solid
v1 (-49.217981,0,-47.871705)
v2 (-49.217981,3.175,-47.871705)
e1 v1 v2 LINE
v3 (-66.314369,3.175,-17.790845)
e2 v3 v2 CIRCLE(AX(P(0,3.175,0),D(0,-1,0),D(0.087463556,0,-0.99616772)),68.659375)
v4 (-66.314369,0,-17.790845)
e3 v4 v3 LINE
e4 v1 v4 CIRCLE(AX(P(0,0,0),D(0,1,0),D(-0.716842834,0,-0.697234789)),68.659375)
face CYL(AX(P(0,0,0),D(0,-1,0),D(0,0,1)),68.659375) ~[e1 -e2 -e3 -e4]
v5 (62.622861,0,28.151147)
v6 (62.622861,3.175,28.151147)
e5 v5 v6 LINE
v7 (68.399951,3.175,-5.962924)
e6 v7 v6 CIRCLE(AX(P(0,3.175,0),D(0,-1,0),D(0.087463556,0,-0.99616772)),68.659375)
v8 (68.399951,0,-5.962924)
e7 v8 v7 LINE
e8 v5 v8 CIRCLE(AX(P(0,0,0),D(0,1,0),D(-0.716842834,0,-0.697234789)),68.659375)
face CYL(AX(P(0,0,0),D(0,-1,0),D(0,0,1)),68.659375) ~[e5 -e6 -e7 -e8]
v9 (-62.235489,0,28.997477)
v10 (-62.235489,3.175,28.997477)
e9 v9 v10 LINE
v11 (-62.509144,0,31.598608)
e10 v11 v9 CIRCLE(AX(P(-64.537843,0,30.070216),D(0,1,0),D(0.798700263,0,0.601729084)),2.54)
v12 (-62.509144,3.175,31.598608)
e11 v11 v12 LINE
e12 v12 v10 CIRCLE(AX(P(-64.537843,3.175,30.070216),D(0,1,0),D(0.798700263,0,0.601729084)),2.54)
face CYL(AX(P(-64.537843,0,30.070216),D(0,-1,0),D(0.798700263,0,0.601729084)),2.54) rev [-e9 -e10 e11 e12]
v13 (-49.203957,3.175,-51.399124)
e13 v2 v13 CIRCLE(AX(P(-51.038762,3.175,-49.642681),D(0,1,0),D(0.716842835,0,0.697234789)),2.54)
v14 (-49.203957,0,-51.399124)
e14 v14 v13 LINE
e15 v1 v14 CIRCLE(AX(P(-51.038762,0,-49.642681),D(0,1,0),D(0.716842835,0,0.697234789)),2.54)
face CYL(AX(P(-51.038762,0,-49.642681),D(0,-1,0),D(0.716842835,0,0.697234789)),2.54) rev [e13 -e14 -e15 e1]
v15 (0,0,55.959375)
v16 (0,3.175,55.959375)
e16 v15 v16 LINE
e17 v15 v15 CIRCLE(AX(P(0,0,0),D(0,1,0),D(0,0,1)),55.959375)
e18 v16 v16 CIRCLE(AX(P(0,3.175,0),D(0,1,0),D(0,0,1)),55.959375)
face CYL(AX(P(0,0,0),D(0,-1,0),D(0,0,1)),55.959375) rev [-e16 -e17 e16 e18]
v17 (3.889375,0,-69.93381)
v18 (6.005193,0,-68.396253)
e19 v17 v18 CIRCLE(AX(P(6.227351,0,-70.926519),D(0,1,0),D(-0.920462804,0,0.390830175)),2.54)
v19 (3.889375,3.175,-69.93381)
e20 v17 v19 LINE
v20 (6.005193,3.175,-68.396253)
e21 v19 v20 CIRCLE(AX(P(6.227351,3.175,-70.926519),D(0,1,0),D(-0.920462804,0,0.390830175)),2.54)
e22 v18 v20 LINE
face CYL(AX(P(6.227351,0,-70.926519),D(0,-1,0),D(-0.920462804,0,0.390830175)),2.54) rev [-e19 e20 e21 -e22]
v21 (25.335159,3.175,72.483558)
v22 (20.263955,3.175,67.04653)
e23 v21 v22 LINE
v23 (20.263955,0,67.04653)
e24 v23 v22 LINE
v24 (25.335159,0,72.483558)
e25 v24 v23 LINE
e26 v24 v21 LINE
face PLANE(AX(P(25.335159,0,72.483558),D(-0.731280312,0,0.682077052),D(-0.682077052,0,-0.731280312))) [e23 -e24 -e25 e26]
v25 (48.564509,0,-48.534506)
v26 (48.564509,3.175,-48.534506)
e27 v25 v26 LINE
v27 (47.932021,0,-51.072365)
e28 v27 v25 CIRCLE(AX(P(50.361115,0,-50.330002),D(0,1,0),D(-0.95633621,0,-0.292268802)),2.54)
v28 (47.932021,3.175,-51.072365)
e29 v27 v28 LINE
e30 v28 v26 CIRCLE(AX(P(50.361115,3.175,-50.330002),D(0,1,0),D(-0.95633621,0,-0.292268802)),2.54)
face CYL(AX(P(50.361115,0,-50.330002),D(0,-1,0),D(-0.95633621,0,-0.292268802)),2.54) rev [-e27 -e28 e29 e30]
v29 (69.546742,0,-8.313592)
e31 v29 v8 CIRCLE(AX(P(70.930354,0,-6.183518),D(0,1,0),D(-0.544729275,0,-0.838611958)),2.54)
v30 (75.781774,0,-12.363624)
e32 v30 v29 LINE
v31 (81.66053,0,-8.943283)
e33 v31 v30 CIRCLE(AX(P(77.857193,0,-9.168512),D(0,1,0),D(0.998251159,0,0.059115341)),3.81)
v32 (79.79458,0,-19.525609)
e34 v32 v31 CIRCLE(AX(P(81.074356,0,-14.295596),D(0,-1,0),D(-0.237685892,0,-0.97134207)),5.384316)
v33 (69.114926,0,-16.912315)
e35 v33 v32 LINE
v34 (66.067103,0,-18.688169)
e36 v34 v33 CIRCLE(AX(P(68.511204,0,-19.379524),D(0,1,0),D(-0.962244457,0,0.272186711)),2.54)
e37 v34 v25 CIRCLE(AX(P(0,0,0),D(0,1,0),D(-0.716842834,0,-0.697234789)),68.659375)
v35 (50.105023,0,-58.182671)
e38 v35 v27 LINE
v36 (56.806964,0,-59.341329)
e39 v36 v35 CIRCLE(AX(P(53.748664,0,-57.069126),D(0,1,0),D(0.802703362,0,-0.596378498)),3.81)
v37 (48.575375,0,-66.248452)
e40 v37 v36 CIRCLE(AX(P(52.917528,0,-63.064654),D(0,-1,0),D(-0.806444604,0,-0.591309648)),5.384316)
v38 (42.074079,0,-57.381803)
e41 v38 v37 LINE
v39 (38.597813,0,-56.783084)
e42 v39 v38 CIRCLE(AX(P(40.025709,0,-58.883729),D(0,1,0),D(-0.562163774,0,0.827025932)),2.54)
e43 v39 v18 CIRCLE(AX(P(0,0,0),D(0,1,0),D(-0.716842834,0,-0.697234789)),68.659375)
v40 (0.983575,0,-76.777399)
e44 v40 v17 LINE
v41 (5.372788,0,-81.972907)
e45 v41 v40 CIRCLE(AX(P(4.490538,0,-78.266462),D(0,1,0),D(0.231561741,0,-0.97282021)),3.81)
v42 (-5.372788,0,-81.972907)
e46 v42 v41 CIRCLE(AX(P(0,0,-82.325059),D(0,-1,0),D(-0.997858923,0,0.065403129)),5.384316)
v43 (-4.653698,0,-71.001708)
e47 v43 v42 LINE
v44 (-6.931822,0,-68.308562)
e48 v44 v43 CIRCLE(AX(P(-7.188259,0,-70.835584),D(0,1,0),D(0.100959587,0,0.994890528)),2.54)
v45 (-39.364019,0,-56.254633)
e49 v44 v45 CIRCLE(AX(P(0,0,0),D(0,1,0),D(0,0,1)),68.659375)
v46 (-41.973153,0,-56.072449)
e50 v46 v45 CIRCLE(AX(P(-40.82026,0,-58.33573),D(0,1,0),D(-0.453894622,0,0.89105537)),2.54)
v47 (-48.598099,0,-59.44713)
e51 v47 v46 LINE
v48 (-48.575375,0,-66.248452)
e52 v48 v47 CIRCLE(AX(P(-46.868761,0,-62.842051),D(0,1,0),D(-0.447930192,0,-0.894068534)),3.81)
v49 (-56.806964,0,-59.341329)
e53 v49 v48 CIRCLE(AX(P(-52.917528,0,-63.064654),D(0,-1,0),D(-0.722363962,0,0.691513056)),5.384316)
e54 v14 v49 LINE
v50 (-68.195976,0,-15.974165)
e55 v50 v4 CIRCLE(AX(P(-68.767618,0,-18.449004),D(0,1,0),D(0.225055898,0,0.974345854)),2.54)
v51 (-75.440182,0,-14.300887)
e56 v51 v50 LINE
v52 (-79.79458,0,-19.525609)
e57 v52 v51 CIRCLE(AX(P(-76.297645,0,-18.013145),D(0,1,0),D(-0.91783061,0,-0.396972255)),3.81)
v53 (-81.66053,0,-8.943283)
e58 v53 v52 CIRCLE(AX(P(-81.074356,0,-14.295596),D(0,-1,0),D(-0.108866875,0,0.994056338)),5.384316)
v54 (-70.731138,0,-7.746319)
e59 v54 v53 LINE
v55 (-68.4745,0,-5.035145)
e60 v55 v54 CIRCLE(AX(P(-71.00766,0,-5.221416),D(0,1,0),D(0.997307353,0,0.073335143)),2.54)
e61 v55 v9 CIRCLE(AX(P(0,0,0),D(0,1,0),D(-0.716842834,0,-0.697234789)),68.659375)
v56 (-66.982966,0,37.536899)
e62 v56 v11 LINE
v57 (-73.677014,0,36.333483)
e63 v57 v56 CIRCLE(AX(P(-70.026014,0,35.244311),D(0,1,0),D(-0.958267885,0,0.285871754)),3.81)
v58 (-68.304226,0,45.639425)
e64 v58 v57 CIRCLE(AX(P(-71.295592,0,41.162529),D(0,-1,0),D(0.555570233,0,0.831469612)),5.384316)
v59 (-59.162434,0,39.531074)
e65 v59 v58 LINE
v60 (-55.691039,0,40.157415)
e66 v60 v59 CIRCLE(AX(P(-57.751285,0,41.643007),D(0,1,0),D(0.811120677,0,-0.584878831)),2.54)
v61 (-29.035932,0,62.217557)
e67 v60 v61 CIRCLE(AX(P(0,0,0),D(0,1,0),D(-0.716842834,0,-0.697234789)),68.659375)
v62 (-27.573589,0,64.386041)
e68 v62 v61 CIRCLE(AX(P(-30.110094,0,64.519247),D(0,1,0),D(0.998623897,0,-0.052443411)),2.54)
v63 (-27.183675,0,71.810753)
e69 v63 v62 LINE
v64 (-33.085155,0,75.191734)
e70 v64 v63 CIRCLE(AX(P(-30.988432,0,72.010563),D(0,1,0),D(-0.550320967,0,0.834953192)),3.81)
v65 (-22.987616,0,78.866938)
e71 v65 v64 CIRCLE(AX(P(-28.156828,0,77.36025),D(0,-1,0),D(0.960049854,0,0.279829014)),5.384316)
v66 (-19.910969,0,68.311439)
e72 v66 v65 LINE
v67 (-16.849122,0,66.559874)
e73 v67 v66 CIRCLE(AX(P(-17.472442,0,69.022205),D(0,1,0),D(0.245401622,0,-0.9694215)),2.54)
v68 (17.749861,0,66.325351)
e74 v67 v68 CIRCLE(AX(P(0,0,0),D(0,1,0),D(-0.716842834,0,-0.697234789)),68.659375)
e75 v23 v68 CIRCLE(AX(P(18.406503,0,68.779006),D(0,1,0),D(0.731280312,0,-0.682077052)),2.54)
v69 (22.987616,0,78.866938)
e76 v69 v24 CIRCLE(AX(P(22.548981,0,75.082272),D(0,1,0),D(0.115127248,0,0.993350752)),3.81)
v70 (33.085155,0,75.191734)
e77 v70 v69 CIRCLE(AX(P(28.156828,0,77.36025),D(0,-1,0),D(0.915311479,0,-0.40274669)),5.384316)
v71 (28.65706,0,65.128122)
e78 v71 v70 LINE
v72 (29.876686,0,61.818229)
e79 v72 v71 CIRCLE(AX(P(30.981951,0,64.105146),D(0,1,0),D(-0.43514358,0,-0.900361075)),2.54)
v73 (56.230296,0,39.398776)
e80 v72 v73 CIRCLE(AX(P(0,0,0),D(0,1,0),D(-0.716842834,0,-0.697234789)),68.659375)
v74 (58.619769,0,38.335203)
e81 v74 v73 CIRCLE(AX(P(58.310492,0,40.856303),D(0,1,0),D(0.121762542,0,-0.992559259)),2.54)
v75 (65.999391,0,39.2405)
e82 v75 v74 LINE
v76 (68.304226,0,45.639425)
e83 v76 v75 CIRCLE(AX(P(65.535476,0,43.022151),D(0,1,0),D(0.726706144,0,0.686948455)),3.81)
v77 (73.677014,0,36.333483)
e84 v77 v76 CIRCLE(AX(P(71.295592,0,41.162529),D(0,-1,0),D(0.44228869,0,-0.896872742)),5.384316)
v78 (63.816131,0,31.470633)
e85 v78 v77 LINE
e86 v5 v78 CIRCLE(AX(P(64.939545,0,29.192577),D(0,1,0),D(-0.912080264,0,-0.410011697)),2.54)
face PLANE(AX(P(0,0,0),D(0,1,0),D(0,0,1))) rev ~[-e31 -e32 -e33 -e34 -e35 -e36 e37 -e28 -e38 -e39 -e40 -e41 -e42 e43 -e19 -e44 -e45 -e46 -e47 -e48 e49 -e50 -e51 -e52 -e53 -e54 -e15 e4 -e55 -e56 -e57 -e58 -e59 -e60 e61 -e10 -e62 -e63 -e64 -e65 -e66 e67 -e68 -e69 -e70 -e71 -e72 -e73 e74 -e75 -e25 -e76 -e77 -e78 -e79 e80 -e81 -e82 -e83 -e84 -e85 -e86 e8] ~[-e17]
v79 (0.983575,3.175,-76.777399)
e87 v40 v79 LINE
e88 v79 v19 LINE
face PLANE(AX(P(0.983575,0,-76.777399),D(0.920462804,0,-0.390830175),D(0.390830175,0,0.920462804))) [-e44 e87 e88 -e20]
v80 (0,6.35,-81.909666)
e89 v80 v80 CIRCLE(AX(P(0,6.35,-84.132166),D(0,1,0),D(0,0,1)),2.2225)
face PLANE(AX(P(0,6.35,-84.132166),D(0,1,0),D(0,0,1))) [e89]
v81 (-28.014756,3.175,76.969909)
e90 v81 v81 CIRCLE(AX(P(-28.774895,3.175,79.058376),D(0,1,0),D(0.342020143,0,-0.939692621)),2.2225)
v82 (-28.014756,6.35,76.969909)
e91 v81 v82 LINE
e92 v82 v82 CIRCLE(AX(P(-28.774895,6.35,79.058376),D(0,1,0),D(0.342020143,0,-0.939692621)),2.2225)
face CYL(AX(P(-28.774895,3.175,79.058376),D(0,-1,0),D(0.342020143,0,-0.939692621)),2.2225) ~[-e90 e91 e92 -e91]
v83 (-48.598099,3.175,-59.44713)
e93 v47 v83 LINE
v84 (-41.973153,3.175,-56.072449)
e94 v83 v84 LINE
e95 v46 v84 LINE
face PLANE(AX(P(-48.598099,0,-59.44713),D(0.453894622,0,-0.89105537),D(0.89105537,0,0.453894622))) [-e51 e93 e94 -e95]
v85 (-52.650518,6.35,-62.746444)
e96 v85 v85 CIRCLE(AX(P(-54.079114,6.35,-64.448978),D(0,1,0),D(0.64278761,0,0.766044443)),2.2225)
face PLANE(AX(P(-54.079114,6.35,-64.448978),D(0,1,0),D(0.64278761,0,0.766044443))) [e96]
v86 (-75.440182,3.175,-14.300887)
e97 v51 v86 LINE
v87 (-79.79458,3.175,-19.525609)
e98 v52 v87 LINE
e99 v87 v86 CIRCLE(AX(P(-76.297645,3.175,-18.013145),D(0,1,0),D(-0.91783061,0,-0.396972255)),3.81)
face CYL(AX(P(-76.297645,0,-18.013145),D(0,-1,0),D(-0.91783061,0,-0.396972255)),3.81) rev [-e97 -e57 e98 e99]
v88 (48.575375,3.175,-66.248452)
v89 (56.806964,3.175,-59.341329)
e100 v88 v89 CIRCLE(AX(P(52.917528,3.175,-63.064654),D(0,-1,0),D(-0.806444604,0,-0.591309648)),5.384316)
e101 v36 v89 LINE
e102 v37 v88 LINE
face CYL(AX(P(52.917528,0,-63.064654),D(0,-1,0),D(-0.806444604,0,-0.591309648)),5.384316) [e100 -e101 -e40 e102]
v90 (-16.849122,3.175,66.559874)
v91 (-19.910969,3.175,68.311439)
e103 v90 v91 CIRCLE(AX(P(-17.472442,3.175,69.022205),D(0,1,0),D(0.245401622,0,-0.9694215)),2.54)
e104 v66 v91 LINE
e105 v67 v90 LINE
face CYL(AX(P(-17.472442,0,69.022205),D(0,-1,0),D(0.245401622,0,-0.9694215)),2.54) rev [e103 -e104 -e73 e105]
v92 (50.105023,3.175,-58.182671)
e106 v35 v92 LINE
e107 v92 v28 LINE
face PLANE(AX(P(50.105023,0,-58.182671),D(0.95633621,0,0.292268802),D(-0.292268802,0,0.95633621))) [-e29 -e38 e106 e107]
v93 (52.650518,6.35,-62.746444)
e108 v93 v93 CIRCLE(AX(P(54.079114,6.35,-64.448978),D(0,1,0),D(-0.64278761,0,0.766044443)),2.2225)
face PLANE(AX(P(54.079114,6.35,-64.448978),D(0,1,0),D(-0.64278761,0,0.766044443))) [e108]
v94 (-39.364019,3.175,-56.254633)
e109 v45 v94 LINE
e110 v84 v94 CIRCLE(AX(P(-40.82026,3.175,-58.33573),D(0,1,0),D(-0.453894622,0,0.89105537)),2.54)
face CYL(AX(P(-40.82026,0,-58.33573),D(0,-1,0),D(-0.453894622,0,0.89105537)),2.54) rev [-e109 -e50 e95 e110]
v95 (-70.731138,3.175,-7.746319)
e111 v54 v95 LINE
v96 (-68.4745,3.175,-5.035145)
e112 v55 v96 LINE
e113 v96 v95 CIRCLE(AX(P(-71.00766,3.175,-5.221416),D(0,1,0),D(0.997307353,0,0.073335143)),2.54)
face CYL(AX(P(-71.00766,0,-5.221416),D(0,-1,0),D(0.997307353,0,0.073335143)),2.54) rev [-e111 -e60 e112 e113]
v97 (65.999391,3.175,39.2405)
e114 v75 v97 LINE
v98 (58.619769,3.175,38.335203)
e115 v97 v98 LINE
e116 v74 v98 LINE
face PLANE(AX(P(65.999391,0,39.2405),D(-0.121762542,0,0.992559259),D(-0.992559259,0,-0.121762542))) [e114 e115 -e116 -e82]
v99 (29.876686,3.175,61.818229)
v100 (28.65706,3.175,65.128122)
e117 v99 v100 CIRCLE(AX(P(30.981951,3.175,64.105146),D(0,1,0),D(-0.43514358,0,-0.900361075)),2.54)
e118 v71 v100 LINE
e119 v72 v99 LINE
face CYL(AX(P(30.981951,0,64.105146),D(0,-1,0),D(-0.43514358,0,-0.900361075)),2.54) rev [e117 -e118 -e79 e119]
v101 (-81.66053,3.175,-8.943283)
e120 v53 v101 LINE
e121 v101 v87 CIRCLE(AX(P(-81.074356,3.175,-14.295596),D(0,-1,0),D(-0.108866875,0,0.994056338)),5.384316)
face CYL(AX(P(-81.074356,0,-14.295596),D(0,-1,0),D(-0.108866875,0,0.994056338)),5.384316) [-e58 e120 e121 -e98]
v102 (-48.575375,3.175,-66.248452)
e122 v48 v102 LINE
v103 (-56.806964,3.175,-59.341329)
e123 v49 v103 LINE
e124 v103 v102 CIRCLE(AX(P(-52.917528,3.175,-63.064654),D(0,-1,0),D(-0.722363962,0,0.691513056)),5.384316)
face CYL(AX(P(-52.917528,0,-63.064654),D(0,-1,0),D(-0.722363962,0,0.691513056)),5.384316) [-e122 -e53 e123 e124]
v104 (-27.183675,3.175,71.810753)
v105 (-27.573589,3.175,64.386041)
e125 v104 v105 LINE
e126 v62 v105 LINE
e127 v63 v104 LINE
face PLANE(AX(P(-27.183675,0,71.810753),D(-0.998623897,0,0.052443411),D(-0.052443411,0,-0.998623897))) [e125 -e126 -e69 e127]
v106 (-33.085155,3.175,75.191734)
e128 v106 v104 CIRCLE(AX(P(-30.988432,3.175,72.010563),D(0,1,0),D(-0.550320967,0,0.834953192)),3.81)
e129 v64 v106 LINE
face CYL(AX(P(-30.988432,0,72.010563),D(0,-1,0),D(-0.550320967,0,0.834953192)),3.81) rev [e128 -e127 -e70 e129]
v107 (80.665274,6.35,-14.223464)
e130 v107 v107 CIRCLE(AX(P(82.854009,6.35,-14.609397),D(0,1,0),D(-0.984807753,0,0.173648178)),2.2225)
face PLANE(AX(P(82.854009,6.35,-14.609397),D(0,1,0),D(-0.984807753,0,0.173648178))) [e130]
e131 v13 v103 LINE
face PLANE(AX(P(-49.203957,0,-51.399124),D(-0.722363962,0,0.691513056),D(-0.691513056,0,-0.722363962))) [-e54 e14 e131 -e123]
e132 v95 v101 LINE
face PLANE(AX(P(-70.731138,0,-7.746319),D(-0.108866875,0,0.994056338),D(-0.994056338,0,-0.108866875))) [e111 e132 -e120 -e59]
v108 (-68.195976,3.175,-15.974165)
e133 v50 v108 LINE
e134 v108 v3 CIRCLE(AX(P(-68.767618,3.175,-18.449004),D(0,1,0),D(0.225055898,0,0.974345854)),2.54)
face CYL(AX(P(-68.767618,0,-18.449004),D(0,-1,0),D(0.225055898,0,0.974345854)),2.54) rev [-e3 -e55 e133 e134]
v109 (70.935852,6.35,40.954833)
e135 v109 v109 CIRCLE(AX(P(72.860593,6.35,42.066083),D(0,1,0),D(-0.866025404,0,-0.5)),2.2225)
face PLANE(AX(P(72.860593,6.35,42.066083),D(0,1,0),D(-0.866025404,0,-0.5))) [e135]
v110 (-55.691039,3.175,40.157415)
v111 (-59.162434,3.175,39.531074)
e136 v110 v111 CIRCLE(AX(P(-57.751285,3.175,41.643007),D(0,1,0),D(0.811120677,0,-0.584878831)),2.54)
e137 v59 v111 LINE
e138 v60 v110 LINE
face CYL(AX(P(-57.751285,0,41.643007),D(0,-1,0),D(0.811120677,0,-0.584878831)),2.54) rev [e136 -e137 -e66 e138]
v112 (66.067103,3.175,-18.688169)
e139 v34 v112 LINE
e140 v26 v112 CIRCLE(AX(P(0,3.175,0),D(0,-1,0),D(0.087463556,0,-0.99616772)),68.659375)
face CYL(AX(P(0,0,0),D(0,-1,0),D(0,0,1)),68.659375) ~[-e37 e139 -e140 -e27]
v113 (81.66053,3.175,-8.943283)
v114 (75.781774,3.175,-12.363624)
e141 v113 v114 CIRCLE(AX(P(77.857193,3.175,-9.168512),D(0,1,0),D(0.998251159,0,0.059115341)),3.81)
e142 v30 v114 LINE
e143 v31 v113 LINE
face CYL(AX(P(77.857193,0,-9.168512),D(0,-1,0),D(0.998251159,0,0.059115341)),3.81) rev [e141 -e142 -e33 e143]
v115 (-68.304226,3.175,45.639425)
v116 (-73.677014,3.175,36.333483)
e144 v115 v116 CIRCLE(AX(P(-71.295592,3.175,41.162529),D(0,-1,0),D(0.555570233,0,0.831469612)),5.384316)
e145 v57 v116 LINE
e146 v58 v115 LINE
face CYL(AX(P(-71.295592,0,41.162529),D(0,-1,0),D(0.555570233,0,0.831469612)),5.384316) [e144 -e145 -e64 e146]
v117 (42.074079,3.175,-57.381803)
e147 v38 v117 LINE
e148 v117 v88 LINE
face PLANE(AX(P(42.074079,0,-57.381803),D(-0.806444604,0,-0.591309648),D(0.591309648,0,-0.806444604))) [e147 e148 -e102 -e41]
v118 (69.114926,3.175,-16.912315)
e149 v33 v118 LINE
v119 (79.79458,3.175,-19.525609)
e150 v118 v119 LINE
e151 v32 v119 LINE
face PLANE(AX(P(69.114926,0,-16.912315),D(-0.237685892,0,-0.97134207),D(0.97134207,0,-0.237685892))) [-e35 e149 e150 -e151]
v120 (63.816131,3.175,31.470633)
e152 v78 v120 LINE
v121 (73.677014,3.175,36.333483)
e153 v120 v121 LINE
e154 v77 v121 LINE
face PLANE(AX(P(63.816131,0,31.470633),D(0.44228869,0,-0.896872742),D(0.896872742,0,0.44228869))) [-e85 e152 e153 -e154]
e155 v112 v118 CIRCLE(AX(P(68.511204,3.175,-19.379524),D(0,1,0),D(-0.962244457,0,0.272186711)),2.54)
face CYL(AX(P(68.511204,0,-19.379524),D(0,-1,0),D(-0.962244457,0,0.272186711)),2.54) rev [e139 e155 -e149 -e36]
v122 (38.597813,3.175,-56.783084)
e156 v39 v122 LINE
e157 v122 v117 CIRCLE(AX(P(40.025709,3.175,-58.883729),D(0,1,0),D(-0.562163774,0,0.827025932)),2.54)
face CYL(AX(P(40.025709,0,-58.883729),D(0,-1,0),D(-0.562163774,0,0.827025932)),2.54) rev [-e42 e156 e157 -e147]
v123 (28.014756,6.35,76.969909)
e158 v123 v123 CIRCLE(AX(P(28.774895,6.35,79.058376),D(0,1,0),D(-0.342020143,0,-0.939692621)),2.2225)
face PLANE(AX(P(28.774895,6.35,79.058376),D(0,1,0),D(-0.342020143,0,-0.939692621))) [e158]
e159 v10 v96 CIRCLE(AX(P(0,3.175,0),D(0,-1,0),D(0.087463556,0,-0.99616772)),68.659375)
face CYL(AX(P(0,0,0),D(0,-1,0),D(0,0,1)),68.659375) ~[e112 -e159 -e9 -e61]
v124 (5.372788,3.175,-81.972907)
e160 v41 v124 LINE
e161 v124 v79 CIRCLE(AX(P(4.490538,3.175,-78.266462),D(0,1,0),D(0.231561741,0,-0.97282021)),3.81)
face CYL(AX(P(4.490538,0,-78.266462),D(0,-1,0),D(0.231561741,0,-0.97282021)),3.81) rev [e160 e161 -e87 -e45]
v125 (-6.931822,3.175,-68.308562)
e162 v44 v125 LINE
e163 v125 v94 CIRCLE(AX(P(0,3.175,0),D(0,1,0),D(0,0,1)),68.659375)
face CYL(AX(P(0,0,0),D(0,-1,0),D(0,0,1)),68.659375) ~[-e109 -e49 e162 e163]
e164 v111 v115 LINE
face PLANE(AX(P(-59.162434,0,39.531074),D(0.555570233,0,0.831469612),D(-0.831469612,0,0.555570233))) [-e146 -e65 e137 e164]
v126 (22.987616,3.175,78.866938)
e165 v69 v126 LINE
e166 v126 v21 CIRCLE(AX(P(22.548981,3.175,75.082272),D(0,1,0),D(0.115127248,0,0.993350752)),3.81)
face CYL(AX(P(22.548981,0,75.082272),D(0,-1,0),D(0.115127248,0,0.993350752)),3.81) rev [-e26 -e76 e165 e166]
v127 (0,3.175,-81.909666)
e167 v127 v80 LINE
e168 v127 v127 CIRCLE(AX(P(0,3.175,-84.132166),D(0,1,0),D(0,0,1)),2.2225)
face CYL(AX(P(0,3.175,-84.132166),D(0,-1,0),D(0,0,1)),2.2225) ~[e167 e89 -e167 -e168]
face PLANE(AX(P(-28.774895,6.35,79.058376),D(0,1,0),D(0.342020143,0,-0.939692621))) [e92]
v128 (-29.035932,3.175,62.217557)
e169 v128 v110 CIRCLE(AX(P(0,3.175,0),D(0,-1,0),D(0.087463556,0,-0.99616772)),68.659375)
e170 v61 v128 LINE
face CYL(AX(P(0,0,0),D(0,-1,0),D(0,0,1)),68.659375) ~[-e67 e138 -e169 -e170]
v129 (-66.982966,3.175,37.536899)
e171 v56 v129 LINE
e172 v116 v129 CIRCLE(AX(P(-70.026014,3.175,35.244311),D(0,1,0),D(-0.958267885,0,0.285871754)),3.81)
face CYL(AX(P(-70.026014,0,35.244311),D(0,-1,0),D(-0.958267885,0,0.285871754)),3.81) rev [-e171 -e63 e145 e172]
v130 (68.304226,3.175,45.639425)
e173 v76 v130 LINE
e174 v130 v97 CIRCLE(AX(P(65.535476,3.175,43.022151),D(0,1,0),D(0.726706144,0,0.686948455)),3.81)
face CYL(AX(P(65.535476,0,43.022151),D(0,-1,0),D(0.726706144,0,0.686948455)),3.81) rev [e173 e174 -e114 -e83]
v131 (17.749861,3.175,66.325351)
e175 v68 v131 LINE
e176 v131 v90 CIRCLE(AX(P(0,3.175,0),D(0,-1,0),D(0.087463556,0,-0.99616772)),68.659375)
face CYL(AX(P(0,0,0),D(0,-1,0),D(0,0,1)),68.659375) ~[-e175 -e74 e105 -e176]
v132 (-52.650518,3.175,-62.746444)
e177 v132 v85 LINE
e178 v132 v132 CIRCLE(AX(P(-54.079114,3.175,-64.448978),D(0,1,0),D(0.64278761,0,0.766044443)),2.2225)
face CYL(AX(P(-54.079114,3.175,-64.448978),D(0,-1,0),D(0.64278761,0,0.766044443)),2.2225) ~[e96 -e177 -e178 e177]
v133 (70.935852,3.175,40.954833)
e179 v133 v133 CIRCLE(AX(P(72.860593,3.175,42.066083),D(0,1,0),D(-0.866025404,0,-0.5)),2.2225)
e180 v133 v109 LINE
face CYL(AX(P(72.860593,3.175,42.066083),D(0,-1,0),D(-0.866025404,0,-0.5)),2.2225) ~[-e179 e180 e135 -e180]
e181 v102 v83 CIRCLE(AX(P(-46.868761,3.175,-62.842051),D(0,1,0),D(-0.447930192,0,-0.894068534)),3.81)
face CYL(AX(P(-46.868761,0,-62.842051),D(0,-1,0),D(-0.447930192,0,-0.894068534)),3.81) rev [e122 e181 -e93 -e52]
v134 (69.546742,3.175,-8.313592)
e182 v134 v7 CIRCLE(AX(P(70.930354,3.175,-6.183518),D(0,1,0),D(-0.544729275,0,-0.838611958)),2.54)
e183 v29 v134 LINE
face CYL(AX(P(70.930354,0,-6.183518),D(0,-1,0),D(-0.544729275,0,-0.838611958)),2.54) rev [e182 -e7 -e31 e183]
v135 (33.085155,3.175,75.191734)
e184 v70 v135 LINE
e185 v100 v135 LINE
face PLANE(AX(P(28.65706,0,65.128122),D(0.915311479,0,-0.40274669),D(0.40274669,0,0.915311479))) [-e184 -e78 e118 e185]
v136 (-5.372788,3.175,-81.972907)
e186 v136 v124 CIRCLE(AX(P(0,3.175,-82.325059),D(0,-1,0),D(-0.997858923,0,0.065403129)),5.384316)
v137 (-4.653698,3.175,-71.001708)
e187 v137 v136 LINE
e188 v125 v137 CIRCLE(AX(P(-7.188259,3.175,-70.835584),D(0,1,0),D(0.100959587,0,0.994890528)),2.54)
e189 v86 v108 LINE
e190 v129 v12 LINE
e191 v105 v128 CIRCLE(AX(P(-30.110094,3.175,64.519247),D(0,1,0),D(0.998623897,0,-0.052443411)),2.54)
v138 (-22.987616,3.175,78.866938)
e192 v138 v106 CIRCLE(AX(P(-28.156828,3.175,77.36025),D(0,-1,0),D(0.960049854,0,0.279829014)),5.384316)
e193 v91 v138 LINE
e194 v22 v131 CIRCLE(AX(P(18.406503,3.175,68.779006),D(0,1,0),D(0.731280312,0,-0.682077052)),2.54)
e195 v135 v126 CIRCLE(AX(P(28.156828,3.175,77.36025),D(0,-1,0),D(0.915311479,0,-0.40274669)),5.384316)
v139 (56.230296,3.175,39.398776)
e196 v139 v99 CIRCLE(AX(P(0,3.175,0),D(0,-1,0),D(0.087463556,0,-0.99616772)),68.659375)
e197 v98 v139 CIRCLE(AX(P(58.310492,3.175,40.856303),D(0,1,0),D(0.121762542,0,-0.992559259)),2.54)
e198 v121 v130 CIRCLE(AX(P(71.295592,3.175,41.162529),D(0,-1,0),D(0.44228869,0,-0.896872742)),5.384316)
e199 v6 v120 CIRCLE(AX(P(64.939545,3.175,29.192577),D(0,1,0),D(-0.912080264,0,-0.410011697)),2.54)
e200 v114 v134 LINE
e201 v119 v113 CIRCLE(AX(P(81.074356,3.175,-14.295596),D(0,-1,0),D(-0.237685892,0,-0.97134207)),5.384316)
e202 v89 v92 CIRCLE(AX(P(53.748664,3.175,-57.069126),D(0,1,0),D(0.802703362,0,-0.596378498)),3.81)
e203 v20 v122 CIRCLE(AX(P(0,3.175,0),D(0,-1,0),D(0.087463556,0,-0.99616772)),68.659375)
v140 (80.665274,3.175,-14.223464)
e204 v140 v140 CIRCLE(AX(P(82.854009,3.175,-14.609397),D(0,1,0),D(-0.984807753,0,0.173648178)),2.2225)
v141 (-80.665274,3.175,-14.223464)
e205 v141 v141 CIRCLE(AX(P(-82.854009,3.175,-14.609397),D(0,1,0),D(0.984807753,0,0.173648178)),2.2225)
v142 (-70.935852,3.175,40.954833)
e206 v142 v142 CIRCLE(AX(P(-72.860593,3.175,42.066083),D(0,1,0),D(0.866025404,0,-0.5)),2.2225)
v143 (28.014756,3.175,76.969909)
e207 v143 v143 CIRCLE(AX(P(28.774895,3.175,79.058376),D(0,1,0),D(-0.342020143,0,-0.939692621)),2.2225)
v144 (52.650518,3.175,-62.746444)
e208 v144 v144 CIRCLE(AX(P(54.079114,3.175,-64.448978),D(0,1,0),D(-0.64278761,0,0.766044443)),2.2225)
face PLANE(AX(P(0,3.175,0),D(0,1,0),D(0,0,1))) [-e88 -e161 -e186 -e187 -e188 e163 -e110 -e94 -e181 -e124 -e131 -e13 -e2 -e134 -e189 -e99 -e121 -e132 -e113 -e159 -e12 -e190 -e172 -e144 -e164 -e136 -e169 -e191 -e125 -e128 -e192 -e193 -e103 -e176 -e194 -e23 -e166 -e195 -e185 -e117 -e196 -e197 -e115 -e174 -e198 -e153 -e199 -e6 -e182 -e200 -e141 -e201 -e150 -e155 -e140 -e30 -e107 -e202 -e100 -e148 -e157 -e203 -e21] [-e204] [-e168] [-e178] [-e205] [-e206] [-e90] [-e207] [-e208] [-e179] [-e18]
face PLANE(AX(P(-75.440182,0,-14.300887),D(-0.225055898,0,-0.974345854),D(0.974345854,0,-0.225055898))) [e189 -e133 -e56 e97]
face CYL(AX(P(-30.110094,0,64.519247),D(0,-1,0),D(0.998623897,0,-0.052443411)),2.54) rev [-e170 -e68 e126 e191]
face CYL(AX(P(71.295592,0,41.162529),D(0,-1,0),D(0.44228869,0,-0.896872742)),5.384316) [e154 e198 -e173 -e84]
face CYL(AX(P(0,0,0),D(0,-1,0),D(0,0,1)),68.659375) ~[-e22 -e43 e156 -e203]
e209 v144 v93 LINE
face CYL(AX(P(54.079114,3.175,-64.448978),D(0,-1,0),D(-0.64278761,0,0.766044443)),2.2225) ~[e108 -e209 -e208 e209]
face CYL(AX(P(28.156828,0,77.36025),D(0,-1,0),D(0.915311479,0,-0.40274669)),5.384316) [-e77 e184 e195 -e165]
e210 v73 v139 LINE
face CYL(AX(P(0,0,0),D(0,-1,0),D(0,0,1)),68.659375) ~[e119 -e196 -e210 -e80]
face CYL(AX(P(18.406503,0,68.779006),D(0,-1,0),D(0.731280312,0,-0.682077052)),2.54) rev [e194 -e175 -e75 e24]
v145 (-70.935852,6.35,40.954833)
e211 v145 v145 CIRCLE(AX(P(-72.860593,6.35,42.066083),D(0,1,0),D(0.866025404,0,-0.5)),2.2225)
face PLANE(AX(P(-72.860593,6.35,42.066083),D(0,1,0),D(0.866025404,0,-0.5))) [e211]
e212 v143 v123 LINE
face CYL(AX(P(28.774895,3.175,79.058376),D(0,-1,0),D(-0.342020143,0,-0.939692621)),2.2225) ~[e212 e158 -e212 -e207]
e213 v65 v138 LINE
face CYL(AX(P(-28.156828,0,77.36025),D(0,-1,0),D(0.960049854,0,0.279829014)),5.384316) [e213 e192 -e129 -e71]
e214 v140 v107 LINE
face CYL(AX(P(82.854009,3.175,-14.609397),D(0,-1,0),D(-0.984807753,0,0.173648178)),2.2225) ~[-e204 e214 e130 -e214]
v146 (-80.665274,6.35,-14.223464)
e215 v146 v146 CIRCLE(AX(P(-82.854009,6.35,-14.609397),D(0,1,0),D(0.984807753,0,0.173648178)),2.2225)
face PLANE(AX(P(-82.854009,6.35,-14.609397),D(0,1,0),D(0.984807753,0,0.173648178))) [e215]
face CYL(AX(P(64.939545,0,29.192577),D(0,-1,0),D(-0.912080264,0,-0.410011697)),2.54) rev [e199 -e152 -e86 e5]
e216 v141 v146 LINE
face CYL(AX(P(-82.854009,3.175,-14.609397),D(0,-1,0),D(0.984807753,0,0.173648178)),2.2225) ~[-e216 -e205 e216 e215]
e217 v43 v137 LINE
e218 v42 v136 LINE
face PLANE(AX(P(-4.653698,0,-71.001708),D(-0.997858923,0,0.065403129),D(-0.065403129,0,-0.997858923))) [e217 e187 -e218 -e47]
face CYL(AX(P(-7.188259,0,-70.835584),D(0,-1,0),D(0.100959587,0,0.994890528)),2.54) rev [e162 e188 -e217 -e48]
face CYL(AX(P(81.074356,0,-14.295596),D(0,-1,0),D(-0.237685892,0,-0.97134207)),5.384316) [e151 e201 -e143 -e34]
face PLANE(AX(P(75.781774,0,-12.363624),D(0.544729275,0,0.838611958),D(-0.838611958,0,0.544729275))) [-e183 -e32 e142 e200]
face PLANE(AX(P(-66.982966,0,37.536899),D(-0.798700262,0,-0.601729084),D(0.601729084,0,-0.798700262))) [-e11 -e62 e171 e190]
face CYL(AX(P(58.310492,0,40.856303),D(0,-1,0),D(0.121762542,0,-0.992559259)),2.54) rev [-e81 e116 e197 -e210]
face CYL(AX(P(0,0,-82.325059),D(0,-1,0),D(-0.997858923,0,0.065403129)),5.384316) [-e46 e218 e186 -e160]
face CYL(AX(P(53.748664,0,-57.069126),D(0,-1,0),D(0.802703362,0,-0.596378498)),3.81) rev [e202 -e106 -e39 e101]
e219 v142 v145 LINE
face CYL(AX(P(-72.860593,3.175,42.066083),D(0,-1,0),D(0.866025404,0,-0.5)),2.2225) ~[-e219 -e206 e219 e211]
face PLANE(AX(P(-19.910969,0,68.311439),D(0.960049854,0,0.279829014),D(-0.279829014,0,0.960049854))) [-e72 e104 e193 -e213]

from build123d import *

# Parameters (mm, degrees)
SKETCH1_R           = 68.659375
SKETCH1_R_2         = 55.959375
BOSS_EXTRUDE1_DEPTH = 3.175
BOSS_EXTRUDE2_START = -3.175
BOSS_EXTRUDE2_DEPTH = 3.175
CIRPATTERN1_COUNT   = 9
SKETCH3_R           = 2.2225
BOSS_EXTRUDE3_DEPTH = 3.175
CIRPATTERN13_COUNT  = 9


with BuildPart() as part:
    # Sketch1 → Boss-Extrude1 (new body)
    with BuildSketch(Plane(origin=(0, 0, 0), x_dir=(1, 0, 0), z_dir=(0, 1, 0))):
        with Locations(Location((0, 0, 0), (0, 0, 270))):
            Circle(SKETCH1_R)
        with Locations(Location((0, 0, 0), (0, 0, 270))):
            Circle(SKETCH1_R_2, mode=Mode.SUBTRACT)
    extrude(amount=BOSS_EXTRUDE1_DEPTH)

    # Sketch2 → Boss-Extrude2 (add)
    with BuildSketch(Plane(origin=(0, 3.175, 0), x_dir=(1, 0, 0), z_dir=(0, 1, 0)).offset(BOSS_EXTRUDE2_START)):
        with BuildLine():
            Line((-4.653697789, 71.001707707), (-5.372788209, 81.972907412))
            ThreePointArc((-5.372788209, 81.972907412), (0, 87.709375), (5.372788209, 81.972907412))
            ThreePointArc((5.372788209, 81.972907412), (1.580107525, 80.725221164), (0.983574692, 76.777399446))
            Line((0.983574692, 76.777399446), (3.889375, 69.933810414))
            ThreePointArc((3.889375, 69.933810414), (4.734169071, 68.871766239), (6.005193091, 68.39625305))
            ThreePointArc((6.005193091, 68.39625305), (-0.46538454, 68.657797755), (-6.931822104, 68.308561818))
            ThreePointArc((-6.931822104, 68.308561818), (-5.249012804, 69.195180628), (-4.653697789, 71.001707707))
        make_face()
    boss_extrude2 = extrude(amount=BOSS_EXTRUDE2_DEPTH)

    # CirPattern1: Boss-Extrude2 ×9 about axis
    cirpattern1_axis = Axis((0, 0, 0), (0, 1, 0))
    for i in range(1, CIRPATTERN1_COUNT):
        add(boss_extrude2.rotate(cirpattern1_axis, i * 360 / CIRPATTERN1_COUNT))

    # Sketch3 → Boss-Extrude3 (add)
    with BuildSketch(Plane(origin=(0, 3.175, 0), x_dir=(1, 0, 0), z_dir=(0, 1, 0))):
        with Locations(Location((0, 84.132166, 0), (0, 0, 270))):
            Circle(SKETCH3_R)
    boss_extrude3 = extrude(amount=BOSS_EXTRUDE3_DEPTH)

    # CirPattern13: Boss-Extrude3 ×9 about axis
    cirpattern13_axis = Axis((0, 0, 0), (0, 1, 0))
    for i in range(1, CIRPATTERN13_COUNT):
        add(boss_extrude3.rotate(cirpattern13_axis, i * 360 / CIRPATTERN13_COUNT))


solid = part.part
